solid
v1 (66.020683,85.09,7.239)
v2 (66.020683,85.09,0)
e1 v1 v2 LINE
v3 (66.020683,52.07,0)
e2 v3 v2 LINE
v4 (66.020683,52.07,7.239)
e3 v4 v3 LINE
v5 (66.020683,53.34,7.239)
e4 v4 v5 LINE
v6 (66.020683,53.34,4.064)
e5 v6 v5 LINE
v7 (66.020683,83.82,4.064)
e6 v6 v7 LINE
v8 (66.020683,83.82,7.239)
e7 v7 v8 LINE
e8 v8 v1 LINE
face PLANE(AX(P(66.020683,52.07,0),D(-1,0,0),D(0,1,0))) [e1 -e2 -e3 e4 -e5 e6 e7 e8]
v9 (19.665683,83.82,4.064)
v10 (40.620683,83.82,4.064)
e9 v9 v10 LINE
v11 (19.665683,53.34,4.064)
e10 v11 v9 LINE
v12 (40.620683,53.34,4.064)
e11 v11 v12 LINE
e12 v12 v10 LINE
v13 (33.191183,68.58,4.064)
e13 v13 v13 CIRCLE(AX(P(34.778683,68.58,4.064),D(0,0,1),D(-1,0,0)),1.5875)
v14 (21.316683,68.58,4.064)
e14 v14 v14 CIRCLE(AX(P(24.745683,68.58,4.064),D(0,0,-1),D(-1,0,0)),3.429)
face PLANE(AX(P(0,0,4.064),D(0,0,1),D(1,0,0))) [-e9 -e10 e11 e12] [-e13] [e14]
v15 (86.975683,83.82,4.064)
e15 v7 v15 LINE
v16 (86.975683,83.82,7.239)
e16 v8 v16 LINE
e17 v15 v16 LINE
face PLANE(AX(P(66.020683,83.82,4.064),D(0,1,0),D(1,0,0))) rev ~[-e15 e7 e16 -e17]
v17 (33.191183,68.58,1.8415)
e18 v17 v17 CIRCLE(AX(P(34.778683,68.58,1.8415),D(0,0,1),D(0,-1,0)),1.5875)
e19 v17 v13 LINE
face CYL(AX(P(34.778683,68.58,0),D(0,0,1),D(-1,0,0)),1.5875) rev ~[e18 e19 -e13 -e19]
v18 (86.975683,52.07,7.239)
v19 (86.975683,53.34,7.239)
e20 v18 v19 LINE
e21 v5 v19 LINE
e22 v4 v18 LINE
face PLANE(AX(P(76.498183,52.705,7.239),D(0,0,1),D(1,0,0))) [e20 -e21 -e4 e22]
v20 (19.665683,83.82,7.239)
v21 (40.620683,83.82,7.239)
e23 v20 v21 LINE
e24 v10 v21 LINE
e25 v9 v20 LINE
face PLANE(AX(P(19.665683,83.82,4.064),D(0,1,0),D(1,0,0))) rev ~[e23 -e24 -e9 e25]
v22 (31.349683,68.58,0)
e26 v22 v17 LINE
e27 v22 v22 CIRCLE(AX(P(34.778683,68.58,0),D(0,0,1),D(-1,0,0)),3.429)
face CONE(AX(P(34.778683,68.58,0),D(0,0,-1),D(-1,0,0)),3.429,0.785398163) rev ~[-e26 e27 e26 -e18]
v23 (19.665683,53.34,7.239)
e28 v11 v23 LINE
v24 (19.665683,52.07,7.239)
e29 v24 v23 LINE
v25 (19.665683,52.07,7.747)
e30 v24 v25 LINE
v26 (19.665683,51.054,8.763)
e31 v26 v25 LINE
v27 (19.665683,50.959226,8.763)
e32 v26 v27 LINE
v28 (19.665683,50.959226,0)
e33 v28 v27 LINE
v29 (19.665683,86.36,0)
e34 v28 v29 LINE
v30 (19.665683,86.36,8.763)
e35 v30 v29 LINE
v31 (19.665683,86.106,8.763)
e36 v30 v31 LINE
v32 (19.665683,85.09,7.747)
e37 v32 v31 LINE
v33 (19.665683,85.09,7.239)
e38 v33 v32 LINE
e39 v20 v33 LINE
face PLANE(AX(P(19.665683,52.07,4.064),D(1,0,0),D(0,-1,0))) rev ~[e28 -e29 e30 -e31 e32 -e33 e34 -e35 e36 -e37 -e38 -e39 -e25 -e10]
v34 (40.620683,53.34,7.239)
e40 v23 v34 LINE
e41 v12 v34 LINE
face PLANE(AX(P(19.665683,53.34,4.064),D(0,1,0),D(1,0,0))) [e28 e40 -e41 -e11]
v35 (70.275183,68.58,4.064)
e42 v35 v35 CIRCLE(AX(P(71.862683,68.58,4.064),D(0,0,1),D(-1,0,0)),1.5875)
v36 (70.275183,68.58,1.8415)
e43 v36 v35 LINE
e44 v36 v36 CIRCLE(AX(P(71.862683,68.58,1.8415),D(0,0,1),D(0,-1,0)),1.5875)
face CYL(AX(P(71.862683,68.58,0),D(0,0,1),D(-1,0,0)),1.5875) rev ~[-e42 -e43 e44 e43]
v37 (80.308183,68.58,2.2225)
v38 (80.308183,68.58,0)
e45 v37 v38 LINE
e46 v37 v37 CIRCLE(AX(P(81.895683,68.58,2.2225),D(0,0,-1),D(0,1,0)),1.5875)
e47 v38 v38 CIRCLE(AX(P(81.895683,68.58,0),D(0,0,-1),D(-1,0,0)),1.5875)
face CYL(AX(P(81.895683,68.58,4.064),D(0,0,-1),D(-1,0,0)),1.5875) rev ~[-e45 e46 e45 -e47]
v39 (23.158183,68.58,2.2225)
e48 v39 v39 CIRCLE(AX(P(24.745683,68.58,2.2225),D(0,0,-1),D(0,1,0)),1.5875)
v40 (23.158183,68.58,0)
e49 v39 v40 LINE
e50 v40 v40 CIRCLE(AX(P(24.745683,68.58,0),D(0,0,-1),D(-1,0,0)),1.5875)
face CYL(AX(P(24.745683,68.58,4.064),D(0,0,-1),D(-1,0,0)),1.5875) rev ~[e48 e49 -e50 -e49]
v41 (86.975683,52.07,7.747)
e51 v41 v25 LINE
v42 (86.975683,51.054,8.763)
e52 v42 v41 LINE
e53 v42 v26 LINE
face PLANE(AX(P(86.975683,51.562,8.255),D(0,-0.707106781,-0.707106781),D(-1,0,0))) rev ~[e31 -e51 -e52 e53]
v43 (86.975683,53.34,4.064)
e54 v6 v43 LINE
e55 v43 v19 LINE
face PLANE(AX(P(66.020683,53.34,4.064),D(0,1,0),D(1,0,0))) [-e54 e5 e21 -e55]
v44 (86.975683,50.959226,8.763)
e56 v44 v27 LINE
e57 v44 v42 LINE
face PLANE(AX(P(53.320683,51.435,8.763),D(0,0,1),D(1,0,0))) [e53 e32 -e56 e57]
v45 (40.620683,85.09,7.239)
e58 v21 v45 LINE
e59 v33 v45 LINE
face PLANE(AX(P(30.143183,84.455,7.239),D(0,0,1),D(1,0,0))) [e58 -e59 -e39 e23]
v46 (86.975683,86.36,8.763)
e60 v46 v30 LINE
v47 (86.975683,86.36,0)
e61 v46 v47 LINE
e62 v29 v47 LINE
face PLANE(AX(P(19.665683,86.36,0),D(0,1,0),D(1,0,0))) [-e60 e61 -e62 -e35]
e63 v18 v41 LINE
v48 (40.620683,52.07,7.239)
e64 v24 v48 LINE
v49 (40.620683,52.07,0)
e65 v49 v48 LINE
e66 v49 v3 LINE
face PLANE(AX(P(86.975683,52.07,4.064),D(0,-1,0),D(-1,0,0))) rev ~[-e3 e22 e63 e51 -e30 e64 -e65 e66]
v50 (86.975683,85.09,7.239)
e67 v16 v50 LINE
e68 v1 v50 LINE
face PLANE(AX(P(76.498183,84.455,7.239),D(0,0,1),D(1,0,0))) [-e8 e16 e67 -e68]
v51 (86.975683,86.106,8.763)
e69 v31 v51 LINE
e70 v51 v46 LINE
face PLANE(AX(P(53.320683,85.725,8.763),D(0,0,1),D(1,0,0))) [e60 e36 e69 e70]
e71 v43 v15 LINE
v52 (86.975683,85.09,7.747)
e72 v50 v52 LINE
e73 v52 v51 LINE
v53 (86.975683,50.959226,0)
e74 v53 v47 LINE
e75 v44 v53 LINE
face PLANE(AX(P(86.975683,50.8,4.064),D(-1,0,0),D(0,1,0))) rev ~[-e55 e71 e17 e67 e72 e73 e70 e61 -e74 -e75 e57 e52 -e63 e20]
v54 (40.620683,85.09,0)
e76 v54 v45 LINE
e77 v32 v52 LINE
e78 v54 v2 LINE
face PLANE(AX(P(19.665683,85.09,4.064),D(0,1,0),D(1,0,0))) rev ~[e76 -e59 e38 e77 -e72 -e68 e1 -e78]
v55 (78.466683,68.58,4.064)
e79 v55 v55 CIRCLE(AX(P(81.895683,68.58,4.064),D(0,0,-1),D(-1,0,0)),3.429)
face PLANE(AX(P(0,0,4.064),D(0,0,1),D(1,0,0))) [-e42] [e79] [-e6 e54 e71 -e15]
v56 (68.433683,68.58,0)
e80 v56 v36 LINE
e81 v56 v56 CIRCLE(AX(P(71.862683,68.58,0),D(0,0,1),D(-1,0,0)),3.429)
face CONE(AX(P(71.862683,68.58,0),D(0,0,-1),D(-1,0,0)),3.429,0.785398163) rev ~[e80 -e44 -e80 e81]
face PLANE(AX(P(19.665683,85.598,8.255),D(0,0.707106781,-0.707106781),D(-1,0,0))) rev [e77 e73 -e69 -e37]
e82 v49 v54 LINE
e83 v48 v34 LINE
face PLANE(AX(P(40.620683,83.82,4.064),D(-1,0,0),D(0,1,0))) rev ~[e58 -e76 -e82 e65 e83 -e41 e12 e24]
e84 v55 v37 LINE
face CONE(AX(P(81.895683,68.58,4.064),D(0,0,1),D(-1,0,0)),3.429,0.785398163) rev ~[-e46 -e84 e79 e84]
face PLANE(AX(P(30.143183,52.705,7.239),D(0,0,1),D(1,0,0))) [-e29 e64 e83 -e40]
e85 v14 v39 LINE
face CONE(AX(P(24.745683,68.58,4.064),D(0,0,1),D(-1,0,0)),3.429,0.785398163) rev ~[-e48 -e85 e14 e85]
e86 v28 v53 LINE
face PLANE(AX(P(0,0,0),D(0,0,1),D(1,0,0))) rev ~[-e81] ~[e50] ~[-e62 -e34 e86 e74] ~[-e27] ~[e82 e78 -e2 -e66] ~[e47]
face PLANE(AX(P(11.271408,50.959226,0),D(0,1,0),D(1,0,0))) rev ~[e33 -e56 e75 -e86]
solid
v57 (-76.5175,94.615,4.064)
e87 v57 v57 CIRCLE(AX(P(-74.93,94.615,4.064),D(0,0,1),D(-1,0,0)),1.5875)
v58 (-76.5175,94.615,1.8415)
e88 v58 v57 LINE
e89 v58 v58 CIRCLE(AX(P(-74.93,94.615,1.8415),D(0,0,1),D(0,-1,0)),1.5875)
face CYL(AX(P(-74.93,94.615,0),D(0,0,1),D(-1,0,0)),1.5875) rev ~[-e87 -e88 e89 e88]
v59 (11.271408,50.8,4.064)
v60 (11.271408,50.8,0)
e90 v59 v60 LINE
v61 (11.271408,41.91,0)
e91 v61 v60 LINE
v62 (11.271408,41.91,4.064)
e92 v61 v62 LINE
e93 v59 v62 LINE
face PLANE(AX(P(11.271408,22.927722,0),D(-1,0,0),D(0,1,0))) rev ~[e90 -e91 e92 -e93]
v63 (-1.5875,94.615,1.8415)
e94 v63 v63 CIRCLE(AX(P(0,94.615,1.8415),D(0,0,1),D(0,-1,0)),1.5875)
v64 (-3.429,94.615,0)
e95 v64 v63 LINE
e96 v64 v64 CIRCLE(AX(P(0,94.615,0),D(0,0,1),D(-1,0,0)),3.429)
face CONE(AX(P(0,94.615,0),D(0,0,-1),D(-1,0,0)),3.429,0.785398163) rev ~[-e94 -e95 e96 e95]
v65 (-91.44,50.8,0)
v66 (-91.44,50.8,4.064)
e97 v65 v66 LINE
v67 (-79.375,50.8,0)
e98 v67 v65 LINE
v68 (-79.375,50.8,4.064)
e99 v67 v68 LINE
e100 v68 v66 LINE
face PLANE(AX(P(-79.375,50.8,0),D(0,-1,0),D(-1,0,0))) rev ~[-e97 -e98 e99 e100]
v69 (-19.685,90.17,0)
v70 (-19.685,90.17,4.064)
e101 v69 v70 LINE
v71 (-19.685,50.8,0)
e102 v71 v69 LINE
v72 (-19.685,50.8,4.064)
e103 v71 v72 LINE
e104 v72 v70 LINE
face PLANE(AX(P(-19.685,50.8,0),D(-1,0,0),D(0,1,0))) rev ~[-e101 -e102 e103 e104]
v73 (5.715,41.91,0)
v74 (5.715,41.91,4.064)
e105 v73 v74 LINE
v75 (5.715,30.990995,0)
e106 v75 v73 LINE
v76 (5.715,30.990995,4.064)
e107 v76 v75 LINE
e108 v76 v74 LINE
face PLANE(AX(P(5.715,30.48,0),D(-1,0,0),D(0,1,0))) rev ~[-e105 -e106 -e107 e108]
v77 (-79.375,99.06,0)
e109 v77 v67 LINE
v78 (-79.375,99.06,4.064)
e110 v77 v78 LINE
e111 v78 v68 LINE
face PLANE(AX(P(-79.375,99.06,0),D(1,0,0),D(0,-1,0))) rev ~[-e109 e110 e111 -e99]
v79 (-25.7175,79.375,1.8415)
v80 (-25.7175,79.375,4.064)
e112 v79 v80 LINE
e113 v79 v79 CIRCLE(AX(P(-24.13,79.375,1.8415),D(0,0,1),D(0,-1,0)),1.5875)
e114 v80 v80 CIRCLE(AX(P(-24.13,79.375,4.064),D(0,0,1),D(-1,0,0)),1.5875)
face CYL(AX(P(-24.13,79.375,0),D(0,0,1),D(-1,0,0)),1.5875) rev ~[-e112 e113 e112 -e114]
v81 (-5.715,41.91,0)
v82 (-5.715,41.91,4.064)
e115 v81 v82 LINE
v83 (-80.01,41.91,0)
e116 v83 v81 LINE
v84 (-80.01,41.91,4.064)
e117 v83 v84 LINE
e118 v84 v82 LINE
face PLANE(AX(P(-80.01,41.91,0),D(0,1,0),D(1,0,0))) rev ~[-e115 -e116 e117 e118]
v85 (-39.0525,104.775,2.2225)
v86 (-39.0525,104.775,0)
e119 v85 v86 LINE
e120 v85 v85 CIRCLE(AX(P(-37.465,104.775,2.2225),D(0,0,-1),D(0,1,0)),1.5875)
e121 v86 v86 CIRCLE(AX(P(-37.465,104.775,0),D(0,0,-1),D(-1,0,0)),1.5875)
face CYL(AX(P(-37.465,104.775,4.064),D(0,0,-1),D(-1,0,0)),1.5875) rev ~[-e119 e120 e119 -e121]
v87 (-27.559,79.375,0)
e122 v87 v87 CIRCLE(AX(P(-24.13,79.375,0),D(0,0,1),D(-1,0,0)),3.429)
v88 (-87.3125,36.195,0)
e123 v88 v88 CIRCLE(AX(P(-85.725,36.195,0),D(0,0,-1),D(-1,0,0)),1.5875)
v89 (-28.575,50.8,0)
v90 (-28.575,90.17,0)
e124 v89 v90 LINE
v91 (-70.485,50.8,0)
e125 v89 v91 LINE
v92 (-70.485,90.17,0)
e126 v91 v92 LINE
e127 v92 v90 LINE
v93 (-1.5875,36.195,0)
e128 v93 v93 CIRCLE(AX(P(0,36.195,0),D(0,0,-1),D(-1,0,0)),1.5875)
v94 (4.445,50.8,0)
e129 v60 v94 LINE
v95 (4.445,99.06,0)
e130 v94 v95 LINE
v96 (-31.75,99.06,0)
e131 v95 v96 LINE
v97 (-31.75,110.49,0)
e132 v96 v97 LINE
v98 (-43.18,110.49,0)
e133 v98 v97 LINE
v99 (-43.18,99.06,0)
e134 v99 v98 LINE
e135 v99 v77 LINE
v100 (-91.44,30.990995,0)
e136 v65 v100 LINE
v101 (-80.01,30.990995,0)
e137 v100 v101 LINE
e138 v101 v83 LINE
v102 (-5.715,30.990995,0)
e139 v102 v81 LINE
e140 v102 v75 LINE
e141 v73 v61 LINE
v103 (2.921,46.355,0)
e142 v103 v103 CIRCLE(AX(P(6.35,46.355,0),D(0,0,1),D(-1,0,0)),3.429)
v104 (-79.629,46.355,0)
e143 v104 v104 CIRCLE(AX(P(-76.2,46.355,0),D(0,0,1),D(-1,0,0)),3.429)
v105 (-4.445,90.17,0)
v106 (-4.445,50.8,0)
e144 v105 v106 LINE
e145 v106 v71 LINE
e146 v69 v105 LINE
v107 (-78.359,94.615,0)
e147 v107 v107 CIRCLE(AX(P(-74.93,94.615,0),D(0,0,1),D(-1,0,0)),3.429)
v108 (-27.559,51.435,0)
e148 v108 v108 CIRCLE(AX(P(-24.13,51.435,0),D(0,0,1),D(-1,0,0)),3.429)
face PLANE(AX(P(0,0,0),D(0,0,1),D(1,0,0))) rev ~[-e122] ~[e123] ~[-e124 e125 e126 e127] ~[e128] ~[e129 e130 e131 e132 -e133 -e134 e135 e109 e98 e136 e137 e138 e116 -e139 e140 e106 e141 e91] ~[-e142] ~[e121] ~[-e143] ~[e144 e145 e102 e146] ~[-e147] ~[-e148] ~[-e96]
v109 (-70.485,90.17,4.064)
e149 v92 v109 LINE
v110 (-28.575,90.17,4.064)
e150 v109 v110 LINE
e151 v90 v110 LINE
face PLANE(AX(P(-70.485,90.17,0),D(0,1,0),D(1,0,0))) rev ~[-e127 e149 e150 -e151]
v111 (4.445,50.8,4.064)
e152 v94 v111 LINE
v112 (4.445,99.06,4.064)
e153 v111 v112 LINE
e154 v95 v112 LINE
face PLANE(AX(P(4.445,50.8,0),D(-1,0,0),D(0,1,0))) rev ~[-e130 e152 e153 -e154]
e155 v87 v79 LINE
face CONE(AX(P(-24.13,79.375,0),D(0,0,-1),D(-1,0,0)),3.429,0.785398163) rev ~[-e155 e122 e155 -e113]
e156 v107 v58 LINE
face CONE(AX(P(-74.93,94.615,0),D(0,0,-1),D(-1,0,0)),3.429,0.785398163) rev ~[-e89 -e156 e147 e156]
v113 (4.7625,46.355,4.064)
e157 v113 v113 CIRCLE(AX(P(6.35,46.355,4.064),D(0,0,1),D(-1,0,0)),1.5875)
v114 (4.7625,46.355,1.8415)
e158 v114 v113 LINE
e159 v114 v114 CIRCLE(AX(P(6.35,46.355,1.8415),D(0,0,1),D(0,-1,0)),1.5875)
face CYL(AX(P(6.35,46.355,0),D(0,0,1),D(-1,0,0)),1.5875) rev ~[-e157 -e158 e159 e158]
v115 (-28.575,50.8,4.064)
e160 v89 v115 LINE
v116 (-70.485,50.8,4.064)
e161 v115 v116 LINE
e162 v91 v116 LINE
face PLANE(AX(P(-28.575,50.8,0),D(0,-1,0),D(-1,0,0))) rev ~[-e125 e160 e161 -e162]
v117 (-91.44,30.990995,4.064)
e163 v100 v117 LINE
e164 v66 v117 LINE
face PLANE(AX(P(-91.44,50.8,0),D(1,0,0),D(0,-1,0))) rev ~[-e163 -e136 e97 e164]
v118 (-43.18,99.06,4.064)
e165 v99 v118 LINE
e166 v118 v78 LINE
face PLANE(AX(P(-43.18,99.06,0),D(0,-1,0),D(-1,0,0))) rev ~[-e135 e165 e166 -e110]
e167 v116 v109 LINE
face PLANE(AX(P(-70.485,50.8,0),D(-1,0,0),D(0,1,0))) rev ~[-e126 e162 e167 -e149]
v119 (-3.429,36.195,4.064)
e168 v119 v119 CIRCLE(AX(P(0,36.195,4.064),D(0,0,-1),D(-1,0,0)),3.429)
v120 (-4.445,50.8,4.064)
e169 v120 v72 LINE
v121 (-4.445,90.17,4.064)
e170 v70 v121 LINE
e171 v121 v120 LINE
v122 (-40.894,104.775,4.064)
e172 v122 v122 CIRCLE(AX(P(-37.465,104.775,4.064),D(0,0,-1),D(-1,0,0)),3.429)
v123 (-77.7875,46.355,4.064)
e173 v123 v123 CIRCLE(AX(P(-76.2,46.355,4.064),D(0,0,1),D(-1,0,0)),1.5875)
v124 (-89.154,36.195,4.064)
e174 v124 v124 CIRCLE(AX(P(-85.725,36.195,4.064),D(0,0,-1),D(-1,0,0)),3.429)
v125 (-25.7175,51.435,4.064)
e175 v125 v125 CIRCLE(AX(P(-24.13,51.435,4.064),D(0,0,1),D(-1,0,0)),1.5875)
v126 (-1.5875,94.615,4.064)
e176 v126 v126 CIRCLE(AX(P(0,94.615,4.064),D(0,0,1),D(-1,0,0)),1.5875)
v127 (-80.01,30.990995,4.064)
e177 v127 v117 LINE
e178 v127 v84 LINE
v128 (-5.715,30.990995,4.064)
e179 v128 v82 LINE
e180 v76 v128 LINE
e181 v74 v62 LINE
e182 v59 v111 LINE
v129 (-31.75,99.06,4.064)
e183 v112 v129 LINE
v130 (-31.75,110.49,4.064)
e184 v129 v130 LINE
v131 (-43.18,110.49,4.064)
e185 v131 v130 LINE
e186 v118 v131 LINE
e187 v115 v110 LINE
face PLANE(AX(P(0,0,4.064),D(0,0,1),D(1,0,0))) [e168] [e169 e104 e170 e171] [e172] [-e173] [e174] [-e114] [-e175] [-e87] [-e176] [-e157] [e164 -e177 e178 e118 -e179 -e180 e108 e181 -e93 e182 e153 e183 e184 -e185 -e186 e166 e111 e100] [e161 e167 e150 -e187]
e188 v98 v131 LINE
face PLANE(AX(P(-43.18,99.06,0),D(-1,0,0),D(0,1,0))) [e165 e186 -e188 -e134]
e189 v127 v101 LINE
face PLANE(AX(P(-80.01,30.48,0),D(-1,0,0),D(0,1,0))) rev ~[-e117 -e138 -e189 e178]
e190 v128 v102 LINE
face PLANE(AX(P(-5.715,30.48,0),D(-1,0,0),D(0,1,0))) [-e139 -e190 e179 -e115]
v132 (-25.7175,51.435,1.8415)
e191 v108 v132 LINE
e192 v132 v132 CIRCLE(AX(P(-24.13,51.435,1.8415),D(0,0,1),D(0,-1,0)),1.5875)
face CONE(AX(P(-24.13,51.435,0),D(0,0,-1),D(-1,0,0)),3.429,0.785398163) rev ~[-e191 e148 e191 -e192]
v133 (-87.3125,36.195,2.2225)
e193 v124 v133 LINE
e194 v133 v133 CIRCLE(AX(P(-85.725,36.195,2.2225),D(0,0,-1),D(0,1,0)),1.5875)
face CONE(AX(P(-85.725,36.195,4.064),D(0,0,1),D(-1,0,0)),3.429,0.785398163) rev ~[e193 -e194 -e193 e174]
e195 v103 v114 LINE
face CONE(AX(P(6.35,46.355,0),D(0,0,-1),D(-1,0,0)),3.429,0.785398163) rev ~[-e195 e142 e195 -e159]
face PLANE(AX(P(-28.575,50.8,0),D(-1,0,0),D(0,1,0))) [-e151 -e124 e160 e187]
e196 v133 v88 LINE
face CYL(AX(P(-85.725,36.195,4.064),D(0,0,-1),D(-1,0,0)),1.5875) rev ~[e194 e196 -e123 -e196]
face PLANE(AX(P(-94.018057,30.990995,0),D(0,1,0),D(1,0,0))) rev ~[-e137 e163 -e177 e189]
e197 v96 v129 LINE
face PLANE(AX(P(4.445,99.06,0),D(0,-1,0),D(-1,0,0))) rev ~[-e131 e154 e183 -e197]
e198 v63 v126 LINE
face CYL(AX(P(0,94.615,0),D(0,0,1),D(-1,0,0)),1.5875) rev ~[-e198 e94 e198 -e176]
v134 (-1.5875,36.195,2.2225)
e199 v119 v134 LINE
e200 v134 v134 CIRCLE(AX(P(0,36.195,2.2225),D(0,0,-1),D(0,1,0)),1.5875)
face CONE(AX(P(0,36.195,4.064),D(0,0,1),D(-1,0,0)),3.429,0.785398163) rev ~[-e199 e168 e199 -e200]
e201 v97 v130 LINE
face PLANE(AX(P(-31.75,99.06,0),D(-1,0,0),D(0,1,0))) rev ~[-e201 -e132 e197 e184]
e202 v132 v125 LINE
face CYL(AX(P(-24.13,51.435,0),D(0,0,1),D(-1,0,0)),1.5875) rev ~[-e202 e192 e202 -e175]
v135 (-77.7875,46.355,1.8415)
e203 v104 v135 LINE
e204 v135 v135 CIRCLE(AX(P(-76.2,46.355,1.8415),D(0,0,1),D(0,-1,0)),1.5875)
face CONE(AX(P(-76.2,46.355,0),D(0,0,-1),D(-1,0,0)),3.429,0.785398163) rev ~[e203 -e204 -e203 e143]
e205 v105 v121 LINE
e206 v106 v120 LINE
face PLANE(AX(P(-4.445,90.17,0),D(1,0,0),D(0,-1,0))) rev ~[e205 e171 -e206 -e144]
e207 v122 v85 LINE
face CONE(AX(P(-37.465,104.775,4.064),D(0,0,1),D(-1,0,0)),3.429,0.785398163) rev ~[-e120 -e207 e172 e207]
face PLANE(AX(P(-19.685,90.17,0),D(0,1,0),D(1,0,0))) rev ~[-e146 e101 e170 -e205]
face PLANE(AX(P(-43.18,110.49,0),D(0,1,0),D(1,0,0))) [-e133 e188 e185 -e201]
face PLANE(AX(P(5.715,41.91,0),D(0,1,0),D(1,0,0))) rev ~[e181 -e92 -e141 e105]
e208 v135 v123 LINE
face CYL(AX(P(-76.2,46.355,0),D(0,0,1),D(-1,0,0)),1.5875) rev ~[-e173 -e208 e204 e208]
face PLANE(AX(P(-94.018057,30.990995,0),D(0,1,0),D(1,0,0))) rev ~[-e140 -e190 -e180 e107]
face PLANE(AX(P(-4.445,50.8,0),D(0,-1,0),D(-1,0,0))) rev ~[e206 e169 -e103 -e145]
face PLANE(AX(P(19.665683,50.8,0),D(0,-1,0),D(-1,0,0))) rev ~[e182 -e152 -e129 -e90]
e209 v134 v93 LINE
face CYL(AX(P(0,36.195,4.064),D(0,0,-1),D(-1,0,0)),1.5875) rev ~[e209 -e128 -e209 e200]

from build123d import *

# Parameters (mm, degrees)
F0_R           = 2.54
F0_W           = 43.18
F0_H           = 43.18
F0_W_2         = 8.89
F0_W_3         = 11.43
F0_H_2         = 11.43
F0_H_3         = 39.37
F0_W_4         = 67.31
F0_H_4         = 35.56
F0_W_5         = 25.4
F0_H_5         = 33.02
F1_DEPTH       = 4.064
F2_DEPTH       = 7.62
F3_D           = 1.27
F5_D           = 3.175
F5_CSINK_D     = 6.858
F5_CSINK_ANGLE = 90
F6_D           = 3.175
F6_CSINK_D     = 6.858
F6_CSINK_ANGLE = 90
F7_W           = 20.955
F7_H           = 1.27
F8_DEPTH       = 3.175
F9_DEPTH       = 4.699
F10_SIZE       = 1.016
F11_W          = 190.5601248145
F11_H          = 80.0042673945
F12_DEPTH      = 7.874
F13_W          = 87.6229498535
F13_H          = 28.0315037817
F14_DEPTH      = 10.922


with BuildPart() as f1:
    # F0 (on Top) → F1 (new body)
    with BuildSketch(Plane.XY):
        Polygon((30.48, 21.59), (30.48, 30.48), (5.715, 30.48), (-5.715, 30.48), (-30.48, 30.48), (-30.48, 21.59), (-30.48, -21.59), (-30.48, -30.48), (-5.715, -30.48), (5.715, -30.48), (30.48, -30.48), (30.48, -21.59), align=None)
        with Locations((-25.4, -25.4)):
            Circle(F0_R, mode=Mode.SUBTRACT)
        with Locations((-25.4, 25.4)):
            Circle(F0_R, mode=Mode.SUBTRACT)
        with Locations((25.4, -25.4)):
            Circle(F0_R, mode=Mode.SUBTRACT)
        Rectangle(F0_W, F0_H, mode=Mode.SUBTRACT)
        with Locations((25.4, 25.4)):
            Circle(F0_R, mode=Mode.SUBTRACT)
        Polygon((-30.48, 21.59), (-30.48, 30.48), (-80.01, 30.48), (-91.44, 30.48), (-91.44, 21.59), (-82.55, 21.59), align=None)
        with Locations((-86.36, 25.4)):
            Circle(F0_R, mode=Mode.SUBTRACT)
        with Locations((-35.56, 25.4)):
            Circle(F0_R, mode=Mode.SUBTRACT)
        with Locations((-86.995, 0)):
            Rectangle(F0_W_2, F0_H)
        Polygon((-30.48, -30.48), (-30.48, -21.59), (-82.55, -21.59), (-91.44, -21.59), (-91.44, -30.48), (-80.01, -30.48), align=None)
        with Locations((-86.36, -25.4)):
            Circle(F0_R, mode=Mode.SUBTRACT)
        with Locations((-35.56, -25.4)):
            Circle(F0_R, mode=Mode.SUBTRACT)
        Polygon((80.01, 30.48), (30.48, 30.48), (30.48, 21.59), (82.55, 21.59), (91.44, 21.59), (91.44, 30.48), align=None)
        with Locations((35.56, 25.4)):
            Circle(F0_R, mode=Mode.SUBTRACT)
        with Locations((86.36, 25.4)):
            Circle(F0_R, mode=Mode.SUBTRACT)
        Polygon((82.55, -21.59), (30.48, -21.59), (30.48, -30.48), (80.01, -30.48), (91.44, -30.48), (91.44, -21.59), align=None)
        with Locations((35.56, -25.4)):
            Circle(F0_R, mode=Mode.SUBTRACT)
        with Locations((86.36, -25.4)):
            Circle(F0_R, mode=Mode.SUBTRACT)
        with Locations((86.995, 0)):
            Rectangle(F0_W_2, F0_H)
        with Locations((-85.725, 36.195)):
            Rectangle(F0_W_3, F0_H_2)
        with Locations((85.725, 36.195)):
            Rectangle(F0_W_3, F0_H_2)
        with Locations((85.725, -36.195)):
            Rectangle(F0_W_3, F0_H_2)
        with Locations((-85.725, -36.195)):
            Rectangle(F0_W_3, F0_H_2)
        with Locations((0, 36.195)):
            Rectangle(F0_W_3, F0_H_2)
        with Locations((0, -36.195)):
            Rectangle(F0_W_3, F0_H_2)
        Polygon((-5.715, 41.91), (5.715, 41.91), (80.01, 41.91), (91.44, 41.91), (91.44, 50.8), (86.9756826884, 50.8), (19.6656826884, 50.8), (4.445, 50.8), (-4.445, 50.8), (-19.685, 50.8), (-28.575, 50.8), (-70.485, 50.8), (-79.375, 50.8), (-91.44, 50.8), (-91.44, 41.91), (-80.01, 41.91), align=None)
        Polygon((-79.375, 99.06), (-79.375, 50.8), (-70.485, 50.8), (-70.485, 90.17), (-70.485, 99.06), align=None)
        Polygon((-70.485, 99.06), (-70.485, 90.17), (-28.575, 90.17), (-19.685, 90.17), (-4.445, 90.17), (-4.445, 99.06), (-31.75, 99.06), (-43.18, 99.06), align=None)
        with Locations((-24.13, 70.485)):
            Rectangle(F0_W_2, F0_H_3)
        Polygon((-4.445, 50.8), (4.445, 50.8), (4.445, 99.06), (-4.445, 99.06), (-4.445, 90.17), align=None)
        with Locations((53.3206826884, 68.58)):
            Rectangle(F0_W_4, F0_H_4)
        with Locations((53.3206826884, 68.58)):
            Rectangle(F0_W_5, F0_H_5, mode=Mode.SUBTRACT)
        with Locations((-37.465, 104.775)):
            Rectangle(F0_W_3, F0_H_2)
    extrude(amount=F1_DEPTH)

    # F0 (on Top) → F2 (join)
    with BuildSketch(Plane.XY):
        with Locations((-25.4, 25.4)):
            Circle(F0_R)
        with Locations((25.4, 25.4)):
            Circle(F0_R)
        with Locations((25.4, -25.4)):
            Circle(F0_R)
        with Locations((-25.4, -25.4)):
            Circle(F0_R)
        with Locations((-86.36, 25.4)):
            Circle(F0_R)
        with Locations((-86.36, -25.4)):
            Circle(F0_R)
        with Locations((-35.56, 25.4)):
            Circle(F0_R)
        with Locations((-35.56, -25.4)):
            Circle(F0_R)
        with Locations((35.56, -25.4)):
            Circle(F0_R)
        with Locations((86.36, -25.4)):
            Circle(F0_R)
        with Locations((86.36, 25.4)):
            Circle(F0_R)
        with Locations((35.56, 25.4)):
            Circle(F0_R)
    extrude(amount=F2_DEPTH)

    # F3 (through all)
    with Locations(Plane(origin=(0, 0, 0), x_dir=(1, 0, 0), z_dir=(0, 0, -1))):
        with Locations((-25.4, -25.4), (25.4, -25.4), (25.4, 25.4), (-25.4, 25.4), (-86.36, -25.4), (-35.56, -25.4), (-86.36, 25.4), (-35.56, 25.4), (35.56, -25.4), (86.36, -25.4), (35.56, 25.4), (86.36, 25.4)):
            Hole(F3_D / 2)

    # F5 (through all)
    with Locations(Plane.XY.offset(4.064)):
        with Locations((-85.725, 36.195), (-85.725, -36.195), (85.725, -36.195), (85.725, 36.195), (0, 36.195), (0, -36.195), (-37.465, 104.775), (24.7456826884, 68.58), (81.8956826884, 68.58)):
            CounterSinkHole(F5_D / 2, F5_CSINK_D / 2, counter_sink_angle=F5_CSINK_ANGLE)

    # F6 (through all)
    with Locations(Plane(origin=(0, 0, 0), x_dir=(1, 0, 0), z_dir=(0, 0, -1))):
        with Locations((-76.2, -46.355), (-74.93, -94.615), (-24.13, -79.375), (-24.13, -51.435), (6.35, -46.355), (0, -94.615), (34.7786826884, -68.58), (71.8626826884, -68.58)):
            CounterSinkHole(F6_D / 2, F6_CSINK_D / 2, counter_sink_angle=F6_CSINK_ANGLE)

    # F7 (on face) → F8 (join)
    with BuildSketch(Plane.XY.offset(4.064)):
        with Locations((30.1431826884, 84.455)):
            Rectangle(F7_W, F7_H)
        with Locations((76.4981826884, 84.455)):
            Rectangle(F7_W, F7_H)
        with Locations((30.1431826884, 52.705)):
            Rectangle(F7_W, F7_H)
        with Locations((76.4981826884, 52.705)):
            Rectangle(F7_W, F7_H)
    extrude(amount=F8_DEPTH)

    # F7 (on face) → F9 (join)
    with BuildSketch(Plane.XY.offset(4.064)):
        Polygon((40.6206826884, 52.07), (19.6656826884, 52.07), (19.6656826884, 50.8), (86.9756826884, 50.8), (86.9756826884, 52.07), (66.0206826884, 52.07), align=None)
        Polygon((86.9756826884, 86.36), (19.6656826884, 86.36), (19.6656826884, 85.09), (40.6206826884, 85.09), (66.0206826884, 85.09), (86.9756826884, 85.09), align=None)
    extrude(amount=F9_DEPTH)

    # F10
    f10_edges = [f1.edges().sort_by_distance(p)[0] for p in [
        (53.320683, 52.07, 8.763),
        (53.320683, 85.09, 8.763),
    ]]
    chamfer(f10_edges, length=F10_SIZE)

    # F11 (on Top) → F12 (cut)
    with BuildSketch(Plane.XY):
        with Locations((1.2620054185, -9.0111382306)):
            Rectangle(F11_W, F11_H)
    extrude(amount=F12_DEPTH, mode=Mode.SUBTRACT)

    # F13 (on Top) → F14 (cut)
    with BuildSketch(Plane.XY):
        with Locations((55.0828827545, 36.9434738532)):
            Rectangle(F13_W, F13_H)
    extrude(amount=F14_DEPTH, mode=Mode.SUBTRACT)


solid = f1.part
